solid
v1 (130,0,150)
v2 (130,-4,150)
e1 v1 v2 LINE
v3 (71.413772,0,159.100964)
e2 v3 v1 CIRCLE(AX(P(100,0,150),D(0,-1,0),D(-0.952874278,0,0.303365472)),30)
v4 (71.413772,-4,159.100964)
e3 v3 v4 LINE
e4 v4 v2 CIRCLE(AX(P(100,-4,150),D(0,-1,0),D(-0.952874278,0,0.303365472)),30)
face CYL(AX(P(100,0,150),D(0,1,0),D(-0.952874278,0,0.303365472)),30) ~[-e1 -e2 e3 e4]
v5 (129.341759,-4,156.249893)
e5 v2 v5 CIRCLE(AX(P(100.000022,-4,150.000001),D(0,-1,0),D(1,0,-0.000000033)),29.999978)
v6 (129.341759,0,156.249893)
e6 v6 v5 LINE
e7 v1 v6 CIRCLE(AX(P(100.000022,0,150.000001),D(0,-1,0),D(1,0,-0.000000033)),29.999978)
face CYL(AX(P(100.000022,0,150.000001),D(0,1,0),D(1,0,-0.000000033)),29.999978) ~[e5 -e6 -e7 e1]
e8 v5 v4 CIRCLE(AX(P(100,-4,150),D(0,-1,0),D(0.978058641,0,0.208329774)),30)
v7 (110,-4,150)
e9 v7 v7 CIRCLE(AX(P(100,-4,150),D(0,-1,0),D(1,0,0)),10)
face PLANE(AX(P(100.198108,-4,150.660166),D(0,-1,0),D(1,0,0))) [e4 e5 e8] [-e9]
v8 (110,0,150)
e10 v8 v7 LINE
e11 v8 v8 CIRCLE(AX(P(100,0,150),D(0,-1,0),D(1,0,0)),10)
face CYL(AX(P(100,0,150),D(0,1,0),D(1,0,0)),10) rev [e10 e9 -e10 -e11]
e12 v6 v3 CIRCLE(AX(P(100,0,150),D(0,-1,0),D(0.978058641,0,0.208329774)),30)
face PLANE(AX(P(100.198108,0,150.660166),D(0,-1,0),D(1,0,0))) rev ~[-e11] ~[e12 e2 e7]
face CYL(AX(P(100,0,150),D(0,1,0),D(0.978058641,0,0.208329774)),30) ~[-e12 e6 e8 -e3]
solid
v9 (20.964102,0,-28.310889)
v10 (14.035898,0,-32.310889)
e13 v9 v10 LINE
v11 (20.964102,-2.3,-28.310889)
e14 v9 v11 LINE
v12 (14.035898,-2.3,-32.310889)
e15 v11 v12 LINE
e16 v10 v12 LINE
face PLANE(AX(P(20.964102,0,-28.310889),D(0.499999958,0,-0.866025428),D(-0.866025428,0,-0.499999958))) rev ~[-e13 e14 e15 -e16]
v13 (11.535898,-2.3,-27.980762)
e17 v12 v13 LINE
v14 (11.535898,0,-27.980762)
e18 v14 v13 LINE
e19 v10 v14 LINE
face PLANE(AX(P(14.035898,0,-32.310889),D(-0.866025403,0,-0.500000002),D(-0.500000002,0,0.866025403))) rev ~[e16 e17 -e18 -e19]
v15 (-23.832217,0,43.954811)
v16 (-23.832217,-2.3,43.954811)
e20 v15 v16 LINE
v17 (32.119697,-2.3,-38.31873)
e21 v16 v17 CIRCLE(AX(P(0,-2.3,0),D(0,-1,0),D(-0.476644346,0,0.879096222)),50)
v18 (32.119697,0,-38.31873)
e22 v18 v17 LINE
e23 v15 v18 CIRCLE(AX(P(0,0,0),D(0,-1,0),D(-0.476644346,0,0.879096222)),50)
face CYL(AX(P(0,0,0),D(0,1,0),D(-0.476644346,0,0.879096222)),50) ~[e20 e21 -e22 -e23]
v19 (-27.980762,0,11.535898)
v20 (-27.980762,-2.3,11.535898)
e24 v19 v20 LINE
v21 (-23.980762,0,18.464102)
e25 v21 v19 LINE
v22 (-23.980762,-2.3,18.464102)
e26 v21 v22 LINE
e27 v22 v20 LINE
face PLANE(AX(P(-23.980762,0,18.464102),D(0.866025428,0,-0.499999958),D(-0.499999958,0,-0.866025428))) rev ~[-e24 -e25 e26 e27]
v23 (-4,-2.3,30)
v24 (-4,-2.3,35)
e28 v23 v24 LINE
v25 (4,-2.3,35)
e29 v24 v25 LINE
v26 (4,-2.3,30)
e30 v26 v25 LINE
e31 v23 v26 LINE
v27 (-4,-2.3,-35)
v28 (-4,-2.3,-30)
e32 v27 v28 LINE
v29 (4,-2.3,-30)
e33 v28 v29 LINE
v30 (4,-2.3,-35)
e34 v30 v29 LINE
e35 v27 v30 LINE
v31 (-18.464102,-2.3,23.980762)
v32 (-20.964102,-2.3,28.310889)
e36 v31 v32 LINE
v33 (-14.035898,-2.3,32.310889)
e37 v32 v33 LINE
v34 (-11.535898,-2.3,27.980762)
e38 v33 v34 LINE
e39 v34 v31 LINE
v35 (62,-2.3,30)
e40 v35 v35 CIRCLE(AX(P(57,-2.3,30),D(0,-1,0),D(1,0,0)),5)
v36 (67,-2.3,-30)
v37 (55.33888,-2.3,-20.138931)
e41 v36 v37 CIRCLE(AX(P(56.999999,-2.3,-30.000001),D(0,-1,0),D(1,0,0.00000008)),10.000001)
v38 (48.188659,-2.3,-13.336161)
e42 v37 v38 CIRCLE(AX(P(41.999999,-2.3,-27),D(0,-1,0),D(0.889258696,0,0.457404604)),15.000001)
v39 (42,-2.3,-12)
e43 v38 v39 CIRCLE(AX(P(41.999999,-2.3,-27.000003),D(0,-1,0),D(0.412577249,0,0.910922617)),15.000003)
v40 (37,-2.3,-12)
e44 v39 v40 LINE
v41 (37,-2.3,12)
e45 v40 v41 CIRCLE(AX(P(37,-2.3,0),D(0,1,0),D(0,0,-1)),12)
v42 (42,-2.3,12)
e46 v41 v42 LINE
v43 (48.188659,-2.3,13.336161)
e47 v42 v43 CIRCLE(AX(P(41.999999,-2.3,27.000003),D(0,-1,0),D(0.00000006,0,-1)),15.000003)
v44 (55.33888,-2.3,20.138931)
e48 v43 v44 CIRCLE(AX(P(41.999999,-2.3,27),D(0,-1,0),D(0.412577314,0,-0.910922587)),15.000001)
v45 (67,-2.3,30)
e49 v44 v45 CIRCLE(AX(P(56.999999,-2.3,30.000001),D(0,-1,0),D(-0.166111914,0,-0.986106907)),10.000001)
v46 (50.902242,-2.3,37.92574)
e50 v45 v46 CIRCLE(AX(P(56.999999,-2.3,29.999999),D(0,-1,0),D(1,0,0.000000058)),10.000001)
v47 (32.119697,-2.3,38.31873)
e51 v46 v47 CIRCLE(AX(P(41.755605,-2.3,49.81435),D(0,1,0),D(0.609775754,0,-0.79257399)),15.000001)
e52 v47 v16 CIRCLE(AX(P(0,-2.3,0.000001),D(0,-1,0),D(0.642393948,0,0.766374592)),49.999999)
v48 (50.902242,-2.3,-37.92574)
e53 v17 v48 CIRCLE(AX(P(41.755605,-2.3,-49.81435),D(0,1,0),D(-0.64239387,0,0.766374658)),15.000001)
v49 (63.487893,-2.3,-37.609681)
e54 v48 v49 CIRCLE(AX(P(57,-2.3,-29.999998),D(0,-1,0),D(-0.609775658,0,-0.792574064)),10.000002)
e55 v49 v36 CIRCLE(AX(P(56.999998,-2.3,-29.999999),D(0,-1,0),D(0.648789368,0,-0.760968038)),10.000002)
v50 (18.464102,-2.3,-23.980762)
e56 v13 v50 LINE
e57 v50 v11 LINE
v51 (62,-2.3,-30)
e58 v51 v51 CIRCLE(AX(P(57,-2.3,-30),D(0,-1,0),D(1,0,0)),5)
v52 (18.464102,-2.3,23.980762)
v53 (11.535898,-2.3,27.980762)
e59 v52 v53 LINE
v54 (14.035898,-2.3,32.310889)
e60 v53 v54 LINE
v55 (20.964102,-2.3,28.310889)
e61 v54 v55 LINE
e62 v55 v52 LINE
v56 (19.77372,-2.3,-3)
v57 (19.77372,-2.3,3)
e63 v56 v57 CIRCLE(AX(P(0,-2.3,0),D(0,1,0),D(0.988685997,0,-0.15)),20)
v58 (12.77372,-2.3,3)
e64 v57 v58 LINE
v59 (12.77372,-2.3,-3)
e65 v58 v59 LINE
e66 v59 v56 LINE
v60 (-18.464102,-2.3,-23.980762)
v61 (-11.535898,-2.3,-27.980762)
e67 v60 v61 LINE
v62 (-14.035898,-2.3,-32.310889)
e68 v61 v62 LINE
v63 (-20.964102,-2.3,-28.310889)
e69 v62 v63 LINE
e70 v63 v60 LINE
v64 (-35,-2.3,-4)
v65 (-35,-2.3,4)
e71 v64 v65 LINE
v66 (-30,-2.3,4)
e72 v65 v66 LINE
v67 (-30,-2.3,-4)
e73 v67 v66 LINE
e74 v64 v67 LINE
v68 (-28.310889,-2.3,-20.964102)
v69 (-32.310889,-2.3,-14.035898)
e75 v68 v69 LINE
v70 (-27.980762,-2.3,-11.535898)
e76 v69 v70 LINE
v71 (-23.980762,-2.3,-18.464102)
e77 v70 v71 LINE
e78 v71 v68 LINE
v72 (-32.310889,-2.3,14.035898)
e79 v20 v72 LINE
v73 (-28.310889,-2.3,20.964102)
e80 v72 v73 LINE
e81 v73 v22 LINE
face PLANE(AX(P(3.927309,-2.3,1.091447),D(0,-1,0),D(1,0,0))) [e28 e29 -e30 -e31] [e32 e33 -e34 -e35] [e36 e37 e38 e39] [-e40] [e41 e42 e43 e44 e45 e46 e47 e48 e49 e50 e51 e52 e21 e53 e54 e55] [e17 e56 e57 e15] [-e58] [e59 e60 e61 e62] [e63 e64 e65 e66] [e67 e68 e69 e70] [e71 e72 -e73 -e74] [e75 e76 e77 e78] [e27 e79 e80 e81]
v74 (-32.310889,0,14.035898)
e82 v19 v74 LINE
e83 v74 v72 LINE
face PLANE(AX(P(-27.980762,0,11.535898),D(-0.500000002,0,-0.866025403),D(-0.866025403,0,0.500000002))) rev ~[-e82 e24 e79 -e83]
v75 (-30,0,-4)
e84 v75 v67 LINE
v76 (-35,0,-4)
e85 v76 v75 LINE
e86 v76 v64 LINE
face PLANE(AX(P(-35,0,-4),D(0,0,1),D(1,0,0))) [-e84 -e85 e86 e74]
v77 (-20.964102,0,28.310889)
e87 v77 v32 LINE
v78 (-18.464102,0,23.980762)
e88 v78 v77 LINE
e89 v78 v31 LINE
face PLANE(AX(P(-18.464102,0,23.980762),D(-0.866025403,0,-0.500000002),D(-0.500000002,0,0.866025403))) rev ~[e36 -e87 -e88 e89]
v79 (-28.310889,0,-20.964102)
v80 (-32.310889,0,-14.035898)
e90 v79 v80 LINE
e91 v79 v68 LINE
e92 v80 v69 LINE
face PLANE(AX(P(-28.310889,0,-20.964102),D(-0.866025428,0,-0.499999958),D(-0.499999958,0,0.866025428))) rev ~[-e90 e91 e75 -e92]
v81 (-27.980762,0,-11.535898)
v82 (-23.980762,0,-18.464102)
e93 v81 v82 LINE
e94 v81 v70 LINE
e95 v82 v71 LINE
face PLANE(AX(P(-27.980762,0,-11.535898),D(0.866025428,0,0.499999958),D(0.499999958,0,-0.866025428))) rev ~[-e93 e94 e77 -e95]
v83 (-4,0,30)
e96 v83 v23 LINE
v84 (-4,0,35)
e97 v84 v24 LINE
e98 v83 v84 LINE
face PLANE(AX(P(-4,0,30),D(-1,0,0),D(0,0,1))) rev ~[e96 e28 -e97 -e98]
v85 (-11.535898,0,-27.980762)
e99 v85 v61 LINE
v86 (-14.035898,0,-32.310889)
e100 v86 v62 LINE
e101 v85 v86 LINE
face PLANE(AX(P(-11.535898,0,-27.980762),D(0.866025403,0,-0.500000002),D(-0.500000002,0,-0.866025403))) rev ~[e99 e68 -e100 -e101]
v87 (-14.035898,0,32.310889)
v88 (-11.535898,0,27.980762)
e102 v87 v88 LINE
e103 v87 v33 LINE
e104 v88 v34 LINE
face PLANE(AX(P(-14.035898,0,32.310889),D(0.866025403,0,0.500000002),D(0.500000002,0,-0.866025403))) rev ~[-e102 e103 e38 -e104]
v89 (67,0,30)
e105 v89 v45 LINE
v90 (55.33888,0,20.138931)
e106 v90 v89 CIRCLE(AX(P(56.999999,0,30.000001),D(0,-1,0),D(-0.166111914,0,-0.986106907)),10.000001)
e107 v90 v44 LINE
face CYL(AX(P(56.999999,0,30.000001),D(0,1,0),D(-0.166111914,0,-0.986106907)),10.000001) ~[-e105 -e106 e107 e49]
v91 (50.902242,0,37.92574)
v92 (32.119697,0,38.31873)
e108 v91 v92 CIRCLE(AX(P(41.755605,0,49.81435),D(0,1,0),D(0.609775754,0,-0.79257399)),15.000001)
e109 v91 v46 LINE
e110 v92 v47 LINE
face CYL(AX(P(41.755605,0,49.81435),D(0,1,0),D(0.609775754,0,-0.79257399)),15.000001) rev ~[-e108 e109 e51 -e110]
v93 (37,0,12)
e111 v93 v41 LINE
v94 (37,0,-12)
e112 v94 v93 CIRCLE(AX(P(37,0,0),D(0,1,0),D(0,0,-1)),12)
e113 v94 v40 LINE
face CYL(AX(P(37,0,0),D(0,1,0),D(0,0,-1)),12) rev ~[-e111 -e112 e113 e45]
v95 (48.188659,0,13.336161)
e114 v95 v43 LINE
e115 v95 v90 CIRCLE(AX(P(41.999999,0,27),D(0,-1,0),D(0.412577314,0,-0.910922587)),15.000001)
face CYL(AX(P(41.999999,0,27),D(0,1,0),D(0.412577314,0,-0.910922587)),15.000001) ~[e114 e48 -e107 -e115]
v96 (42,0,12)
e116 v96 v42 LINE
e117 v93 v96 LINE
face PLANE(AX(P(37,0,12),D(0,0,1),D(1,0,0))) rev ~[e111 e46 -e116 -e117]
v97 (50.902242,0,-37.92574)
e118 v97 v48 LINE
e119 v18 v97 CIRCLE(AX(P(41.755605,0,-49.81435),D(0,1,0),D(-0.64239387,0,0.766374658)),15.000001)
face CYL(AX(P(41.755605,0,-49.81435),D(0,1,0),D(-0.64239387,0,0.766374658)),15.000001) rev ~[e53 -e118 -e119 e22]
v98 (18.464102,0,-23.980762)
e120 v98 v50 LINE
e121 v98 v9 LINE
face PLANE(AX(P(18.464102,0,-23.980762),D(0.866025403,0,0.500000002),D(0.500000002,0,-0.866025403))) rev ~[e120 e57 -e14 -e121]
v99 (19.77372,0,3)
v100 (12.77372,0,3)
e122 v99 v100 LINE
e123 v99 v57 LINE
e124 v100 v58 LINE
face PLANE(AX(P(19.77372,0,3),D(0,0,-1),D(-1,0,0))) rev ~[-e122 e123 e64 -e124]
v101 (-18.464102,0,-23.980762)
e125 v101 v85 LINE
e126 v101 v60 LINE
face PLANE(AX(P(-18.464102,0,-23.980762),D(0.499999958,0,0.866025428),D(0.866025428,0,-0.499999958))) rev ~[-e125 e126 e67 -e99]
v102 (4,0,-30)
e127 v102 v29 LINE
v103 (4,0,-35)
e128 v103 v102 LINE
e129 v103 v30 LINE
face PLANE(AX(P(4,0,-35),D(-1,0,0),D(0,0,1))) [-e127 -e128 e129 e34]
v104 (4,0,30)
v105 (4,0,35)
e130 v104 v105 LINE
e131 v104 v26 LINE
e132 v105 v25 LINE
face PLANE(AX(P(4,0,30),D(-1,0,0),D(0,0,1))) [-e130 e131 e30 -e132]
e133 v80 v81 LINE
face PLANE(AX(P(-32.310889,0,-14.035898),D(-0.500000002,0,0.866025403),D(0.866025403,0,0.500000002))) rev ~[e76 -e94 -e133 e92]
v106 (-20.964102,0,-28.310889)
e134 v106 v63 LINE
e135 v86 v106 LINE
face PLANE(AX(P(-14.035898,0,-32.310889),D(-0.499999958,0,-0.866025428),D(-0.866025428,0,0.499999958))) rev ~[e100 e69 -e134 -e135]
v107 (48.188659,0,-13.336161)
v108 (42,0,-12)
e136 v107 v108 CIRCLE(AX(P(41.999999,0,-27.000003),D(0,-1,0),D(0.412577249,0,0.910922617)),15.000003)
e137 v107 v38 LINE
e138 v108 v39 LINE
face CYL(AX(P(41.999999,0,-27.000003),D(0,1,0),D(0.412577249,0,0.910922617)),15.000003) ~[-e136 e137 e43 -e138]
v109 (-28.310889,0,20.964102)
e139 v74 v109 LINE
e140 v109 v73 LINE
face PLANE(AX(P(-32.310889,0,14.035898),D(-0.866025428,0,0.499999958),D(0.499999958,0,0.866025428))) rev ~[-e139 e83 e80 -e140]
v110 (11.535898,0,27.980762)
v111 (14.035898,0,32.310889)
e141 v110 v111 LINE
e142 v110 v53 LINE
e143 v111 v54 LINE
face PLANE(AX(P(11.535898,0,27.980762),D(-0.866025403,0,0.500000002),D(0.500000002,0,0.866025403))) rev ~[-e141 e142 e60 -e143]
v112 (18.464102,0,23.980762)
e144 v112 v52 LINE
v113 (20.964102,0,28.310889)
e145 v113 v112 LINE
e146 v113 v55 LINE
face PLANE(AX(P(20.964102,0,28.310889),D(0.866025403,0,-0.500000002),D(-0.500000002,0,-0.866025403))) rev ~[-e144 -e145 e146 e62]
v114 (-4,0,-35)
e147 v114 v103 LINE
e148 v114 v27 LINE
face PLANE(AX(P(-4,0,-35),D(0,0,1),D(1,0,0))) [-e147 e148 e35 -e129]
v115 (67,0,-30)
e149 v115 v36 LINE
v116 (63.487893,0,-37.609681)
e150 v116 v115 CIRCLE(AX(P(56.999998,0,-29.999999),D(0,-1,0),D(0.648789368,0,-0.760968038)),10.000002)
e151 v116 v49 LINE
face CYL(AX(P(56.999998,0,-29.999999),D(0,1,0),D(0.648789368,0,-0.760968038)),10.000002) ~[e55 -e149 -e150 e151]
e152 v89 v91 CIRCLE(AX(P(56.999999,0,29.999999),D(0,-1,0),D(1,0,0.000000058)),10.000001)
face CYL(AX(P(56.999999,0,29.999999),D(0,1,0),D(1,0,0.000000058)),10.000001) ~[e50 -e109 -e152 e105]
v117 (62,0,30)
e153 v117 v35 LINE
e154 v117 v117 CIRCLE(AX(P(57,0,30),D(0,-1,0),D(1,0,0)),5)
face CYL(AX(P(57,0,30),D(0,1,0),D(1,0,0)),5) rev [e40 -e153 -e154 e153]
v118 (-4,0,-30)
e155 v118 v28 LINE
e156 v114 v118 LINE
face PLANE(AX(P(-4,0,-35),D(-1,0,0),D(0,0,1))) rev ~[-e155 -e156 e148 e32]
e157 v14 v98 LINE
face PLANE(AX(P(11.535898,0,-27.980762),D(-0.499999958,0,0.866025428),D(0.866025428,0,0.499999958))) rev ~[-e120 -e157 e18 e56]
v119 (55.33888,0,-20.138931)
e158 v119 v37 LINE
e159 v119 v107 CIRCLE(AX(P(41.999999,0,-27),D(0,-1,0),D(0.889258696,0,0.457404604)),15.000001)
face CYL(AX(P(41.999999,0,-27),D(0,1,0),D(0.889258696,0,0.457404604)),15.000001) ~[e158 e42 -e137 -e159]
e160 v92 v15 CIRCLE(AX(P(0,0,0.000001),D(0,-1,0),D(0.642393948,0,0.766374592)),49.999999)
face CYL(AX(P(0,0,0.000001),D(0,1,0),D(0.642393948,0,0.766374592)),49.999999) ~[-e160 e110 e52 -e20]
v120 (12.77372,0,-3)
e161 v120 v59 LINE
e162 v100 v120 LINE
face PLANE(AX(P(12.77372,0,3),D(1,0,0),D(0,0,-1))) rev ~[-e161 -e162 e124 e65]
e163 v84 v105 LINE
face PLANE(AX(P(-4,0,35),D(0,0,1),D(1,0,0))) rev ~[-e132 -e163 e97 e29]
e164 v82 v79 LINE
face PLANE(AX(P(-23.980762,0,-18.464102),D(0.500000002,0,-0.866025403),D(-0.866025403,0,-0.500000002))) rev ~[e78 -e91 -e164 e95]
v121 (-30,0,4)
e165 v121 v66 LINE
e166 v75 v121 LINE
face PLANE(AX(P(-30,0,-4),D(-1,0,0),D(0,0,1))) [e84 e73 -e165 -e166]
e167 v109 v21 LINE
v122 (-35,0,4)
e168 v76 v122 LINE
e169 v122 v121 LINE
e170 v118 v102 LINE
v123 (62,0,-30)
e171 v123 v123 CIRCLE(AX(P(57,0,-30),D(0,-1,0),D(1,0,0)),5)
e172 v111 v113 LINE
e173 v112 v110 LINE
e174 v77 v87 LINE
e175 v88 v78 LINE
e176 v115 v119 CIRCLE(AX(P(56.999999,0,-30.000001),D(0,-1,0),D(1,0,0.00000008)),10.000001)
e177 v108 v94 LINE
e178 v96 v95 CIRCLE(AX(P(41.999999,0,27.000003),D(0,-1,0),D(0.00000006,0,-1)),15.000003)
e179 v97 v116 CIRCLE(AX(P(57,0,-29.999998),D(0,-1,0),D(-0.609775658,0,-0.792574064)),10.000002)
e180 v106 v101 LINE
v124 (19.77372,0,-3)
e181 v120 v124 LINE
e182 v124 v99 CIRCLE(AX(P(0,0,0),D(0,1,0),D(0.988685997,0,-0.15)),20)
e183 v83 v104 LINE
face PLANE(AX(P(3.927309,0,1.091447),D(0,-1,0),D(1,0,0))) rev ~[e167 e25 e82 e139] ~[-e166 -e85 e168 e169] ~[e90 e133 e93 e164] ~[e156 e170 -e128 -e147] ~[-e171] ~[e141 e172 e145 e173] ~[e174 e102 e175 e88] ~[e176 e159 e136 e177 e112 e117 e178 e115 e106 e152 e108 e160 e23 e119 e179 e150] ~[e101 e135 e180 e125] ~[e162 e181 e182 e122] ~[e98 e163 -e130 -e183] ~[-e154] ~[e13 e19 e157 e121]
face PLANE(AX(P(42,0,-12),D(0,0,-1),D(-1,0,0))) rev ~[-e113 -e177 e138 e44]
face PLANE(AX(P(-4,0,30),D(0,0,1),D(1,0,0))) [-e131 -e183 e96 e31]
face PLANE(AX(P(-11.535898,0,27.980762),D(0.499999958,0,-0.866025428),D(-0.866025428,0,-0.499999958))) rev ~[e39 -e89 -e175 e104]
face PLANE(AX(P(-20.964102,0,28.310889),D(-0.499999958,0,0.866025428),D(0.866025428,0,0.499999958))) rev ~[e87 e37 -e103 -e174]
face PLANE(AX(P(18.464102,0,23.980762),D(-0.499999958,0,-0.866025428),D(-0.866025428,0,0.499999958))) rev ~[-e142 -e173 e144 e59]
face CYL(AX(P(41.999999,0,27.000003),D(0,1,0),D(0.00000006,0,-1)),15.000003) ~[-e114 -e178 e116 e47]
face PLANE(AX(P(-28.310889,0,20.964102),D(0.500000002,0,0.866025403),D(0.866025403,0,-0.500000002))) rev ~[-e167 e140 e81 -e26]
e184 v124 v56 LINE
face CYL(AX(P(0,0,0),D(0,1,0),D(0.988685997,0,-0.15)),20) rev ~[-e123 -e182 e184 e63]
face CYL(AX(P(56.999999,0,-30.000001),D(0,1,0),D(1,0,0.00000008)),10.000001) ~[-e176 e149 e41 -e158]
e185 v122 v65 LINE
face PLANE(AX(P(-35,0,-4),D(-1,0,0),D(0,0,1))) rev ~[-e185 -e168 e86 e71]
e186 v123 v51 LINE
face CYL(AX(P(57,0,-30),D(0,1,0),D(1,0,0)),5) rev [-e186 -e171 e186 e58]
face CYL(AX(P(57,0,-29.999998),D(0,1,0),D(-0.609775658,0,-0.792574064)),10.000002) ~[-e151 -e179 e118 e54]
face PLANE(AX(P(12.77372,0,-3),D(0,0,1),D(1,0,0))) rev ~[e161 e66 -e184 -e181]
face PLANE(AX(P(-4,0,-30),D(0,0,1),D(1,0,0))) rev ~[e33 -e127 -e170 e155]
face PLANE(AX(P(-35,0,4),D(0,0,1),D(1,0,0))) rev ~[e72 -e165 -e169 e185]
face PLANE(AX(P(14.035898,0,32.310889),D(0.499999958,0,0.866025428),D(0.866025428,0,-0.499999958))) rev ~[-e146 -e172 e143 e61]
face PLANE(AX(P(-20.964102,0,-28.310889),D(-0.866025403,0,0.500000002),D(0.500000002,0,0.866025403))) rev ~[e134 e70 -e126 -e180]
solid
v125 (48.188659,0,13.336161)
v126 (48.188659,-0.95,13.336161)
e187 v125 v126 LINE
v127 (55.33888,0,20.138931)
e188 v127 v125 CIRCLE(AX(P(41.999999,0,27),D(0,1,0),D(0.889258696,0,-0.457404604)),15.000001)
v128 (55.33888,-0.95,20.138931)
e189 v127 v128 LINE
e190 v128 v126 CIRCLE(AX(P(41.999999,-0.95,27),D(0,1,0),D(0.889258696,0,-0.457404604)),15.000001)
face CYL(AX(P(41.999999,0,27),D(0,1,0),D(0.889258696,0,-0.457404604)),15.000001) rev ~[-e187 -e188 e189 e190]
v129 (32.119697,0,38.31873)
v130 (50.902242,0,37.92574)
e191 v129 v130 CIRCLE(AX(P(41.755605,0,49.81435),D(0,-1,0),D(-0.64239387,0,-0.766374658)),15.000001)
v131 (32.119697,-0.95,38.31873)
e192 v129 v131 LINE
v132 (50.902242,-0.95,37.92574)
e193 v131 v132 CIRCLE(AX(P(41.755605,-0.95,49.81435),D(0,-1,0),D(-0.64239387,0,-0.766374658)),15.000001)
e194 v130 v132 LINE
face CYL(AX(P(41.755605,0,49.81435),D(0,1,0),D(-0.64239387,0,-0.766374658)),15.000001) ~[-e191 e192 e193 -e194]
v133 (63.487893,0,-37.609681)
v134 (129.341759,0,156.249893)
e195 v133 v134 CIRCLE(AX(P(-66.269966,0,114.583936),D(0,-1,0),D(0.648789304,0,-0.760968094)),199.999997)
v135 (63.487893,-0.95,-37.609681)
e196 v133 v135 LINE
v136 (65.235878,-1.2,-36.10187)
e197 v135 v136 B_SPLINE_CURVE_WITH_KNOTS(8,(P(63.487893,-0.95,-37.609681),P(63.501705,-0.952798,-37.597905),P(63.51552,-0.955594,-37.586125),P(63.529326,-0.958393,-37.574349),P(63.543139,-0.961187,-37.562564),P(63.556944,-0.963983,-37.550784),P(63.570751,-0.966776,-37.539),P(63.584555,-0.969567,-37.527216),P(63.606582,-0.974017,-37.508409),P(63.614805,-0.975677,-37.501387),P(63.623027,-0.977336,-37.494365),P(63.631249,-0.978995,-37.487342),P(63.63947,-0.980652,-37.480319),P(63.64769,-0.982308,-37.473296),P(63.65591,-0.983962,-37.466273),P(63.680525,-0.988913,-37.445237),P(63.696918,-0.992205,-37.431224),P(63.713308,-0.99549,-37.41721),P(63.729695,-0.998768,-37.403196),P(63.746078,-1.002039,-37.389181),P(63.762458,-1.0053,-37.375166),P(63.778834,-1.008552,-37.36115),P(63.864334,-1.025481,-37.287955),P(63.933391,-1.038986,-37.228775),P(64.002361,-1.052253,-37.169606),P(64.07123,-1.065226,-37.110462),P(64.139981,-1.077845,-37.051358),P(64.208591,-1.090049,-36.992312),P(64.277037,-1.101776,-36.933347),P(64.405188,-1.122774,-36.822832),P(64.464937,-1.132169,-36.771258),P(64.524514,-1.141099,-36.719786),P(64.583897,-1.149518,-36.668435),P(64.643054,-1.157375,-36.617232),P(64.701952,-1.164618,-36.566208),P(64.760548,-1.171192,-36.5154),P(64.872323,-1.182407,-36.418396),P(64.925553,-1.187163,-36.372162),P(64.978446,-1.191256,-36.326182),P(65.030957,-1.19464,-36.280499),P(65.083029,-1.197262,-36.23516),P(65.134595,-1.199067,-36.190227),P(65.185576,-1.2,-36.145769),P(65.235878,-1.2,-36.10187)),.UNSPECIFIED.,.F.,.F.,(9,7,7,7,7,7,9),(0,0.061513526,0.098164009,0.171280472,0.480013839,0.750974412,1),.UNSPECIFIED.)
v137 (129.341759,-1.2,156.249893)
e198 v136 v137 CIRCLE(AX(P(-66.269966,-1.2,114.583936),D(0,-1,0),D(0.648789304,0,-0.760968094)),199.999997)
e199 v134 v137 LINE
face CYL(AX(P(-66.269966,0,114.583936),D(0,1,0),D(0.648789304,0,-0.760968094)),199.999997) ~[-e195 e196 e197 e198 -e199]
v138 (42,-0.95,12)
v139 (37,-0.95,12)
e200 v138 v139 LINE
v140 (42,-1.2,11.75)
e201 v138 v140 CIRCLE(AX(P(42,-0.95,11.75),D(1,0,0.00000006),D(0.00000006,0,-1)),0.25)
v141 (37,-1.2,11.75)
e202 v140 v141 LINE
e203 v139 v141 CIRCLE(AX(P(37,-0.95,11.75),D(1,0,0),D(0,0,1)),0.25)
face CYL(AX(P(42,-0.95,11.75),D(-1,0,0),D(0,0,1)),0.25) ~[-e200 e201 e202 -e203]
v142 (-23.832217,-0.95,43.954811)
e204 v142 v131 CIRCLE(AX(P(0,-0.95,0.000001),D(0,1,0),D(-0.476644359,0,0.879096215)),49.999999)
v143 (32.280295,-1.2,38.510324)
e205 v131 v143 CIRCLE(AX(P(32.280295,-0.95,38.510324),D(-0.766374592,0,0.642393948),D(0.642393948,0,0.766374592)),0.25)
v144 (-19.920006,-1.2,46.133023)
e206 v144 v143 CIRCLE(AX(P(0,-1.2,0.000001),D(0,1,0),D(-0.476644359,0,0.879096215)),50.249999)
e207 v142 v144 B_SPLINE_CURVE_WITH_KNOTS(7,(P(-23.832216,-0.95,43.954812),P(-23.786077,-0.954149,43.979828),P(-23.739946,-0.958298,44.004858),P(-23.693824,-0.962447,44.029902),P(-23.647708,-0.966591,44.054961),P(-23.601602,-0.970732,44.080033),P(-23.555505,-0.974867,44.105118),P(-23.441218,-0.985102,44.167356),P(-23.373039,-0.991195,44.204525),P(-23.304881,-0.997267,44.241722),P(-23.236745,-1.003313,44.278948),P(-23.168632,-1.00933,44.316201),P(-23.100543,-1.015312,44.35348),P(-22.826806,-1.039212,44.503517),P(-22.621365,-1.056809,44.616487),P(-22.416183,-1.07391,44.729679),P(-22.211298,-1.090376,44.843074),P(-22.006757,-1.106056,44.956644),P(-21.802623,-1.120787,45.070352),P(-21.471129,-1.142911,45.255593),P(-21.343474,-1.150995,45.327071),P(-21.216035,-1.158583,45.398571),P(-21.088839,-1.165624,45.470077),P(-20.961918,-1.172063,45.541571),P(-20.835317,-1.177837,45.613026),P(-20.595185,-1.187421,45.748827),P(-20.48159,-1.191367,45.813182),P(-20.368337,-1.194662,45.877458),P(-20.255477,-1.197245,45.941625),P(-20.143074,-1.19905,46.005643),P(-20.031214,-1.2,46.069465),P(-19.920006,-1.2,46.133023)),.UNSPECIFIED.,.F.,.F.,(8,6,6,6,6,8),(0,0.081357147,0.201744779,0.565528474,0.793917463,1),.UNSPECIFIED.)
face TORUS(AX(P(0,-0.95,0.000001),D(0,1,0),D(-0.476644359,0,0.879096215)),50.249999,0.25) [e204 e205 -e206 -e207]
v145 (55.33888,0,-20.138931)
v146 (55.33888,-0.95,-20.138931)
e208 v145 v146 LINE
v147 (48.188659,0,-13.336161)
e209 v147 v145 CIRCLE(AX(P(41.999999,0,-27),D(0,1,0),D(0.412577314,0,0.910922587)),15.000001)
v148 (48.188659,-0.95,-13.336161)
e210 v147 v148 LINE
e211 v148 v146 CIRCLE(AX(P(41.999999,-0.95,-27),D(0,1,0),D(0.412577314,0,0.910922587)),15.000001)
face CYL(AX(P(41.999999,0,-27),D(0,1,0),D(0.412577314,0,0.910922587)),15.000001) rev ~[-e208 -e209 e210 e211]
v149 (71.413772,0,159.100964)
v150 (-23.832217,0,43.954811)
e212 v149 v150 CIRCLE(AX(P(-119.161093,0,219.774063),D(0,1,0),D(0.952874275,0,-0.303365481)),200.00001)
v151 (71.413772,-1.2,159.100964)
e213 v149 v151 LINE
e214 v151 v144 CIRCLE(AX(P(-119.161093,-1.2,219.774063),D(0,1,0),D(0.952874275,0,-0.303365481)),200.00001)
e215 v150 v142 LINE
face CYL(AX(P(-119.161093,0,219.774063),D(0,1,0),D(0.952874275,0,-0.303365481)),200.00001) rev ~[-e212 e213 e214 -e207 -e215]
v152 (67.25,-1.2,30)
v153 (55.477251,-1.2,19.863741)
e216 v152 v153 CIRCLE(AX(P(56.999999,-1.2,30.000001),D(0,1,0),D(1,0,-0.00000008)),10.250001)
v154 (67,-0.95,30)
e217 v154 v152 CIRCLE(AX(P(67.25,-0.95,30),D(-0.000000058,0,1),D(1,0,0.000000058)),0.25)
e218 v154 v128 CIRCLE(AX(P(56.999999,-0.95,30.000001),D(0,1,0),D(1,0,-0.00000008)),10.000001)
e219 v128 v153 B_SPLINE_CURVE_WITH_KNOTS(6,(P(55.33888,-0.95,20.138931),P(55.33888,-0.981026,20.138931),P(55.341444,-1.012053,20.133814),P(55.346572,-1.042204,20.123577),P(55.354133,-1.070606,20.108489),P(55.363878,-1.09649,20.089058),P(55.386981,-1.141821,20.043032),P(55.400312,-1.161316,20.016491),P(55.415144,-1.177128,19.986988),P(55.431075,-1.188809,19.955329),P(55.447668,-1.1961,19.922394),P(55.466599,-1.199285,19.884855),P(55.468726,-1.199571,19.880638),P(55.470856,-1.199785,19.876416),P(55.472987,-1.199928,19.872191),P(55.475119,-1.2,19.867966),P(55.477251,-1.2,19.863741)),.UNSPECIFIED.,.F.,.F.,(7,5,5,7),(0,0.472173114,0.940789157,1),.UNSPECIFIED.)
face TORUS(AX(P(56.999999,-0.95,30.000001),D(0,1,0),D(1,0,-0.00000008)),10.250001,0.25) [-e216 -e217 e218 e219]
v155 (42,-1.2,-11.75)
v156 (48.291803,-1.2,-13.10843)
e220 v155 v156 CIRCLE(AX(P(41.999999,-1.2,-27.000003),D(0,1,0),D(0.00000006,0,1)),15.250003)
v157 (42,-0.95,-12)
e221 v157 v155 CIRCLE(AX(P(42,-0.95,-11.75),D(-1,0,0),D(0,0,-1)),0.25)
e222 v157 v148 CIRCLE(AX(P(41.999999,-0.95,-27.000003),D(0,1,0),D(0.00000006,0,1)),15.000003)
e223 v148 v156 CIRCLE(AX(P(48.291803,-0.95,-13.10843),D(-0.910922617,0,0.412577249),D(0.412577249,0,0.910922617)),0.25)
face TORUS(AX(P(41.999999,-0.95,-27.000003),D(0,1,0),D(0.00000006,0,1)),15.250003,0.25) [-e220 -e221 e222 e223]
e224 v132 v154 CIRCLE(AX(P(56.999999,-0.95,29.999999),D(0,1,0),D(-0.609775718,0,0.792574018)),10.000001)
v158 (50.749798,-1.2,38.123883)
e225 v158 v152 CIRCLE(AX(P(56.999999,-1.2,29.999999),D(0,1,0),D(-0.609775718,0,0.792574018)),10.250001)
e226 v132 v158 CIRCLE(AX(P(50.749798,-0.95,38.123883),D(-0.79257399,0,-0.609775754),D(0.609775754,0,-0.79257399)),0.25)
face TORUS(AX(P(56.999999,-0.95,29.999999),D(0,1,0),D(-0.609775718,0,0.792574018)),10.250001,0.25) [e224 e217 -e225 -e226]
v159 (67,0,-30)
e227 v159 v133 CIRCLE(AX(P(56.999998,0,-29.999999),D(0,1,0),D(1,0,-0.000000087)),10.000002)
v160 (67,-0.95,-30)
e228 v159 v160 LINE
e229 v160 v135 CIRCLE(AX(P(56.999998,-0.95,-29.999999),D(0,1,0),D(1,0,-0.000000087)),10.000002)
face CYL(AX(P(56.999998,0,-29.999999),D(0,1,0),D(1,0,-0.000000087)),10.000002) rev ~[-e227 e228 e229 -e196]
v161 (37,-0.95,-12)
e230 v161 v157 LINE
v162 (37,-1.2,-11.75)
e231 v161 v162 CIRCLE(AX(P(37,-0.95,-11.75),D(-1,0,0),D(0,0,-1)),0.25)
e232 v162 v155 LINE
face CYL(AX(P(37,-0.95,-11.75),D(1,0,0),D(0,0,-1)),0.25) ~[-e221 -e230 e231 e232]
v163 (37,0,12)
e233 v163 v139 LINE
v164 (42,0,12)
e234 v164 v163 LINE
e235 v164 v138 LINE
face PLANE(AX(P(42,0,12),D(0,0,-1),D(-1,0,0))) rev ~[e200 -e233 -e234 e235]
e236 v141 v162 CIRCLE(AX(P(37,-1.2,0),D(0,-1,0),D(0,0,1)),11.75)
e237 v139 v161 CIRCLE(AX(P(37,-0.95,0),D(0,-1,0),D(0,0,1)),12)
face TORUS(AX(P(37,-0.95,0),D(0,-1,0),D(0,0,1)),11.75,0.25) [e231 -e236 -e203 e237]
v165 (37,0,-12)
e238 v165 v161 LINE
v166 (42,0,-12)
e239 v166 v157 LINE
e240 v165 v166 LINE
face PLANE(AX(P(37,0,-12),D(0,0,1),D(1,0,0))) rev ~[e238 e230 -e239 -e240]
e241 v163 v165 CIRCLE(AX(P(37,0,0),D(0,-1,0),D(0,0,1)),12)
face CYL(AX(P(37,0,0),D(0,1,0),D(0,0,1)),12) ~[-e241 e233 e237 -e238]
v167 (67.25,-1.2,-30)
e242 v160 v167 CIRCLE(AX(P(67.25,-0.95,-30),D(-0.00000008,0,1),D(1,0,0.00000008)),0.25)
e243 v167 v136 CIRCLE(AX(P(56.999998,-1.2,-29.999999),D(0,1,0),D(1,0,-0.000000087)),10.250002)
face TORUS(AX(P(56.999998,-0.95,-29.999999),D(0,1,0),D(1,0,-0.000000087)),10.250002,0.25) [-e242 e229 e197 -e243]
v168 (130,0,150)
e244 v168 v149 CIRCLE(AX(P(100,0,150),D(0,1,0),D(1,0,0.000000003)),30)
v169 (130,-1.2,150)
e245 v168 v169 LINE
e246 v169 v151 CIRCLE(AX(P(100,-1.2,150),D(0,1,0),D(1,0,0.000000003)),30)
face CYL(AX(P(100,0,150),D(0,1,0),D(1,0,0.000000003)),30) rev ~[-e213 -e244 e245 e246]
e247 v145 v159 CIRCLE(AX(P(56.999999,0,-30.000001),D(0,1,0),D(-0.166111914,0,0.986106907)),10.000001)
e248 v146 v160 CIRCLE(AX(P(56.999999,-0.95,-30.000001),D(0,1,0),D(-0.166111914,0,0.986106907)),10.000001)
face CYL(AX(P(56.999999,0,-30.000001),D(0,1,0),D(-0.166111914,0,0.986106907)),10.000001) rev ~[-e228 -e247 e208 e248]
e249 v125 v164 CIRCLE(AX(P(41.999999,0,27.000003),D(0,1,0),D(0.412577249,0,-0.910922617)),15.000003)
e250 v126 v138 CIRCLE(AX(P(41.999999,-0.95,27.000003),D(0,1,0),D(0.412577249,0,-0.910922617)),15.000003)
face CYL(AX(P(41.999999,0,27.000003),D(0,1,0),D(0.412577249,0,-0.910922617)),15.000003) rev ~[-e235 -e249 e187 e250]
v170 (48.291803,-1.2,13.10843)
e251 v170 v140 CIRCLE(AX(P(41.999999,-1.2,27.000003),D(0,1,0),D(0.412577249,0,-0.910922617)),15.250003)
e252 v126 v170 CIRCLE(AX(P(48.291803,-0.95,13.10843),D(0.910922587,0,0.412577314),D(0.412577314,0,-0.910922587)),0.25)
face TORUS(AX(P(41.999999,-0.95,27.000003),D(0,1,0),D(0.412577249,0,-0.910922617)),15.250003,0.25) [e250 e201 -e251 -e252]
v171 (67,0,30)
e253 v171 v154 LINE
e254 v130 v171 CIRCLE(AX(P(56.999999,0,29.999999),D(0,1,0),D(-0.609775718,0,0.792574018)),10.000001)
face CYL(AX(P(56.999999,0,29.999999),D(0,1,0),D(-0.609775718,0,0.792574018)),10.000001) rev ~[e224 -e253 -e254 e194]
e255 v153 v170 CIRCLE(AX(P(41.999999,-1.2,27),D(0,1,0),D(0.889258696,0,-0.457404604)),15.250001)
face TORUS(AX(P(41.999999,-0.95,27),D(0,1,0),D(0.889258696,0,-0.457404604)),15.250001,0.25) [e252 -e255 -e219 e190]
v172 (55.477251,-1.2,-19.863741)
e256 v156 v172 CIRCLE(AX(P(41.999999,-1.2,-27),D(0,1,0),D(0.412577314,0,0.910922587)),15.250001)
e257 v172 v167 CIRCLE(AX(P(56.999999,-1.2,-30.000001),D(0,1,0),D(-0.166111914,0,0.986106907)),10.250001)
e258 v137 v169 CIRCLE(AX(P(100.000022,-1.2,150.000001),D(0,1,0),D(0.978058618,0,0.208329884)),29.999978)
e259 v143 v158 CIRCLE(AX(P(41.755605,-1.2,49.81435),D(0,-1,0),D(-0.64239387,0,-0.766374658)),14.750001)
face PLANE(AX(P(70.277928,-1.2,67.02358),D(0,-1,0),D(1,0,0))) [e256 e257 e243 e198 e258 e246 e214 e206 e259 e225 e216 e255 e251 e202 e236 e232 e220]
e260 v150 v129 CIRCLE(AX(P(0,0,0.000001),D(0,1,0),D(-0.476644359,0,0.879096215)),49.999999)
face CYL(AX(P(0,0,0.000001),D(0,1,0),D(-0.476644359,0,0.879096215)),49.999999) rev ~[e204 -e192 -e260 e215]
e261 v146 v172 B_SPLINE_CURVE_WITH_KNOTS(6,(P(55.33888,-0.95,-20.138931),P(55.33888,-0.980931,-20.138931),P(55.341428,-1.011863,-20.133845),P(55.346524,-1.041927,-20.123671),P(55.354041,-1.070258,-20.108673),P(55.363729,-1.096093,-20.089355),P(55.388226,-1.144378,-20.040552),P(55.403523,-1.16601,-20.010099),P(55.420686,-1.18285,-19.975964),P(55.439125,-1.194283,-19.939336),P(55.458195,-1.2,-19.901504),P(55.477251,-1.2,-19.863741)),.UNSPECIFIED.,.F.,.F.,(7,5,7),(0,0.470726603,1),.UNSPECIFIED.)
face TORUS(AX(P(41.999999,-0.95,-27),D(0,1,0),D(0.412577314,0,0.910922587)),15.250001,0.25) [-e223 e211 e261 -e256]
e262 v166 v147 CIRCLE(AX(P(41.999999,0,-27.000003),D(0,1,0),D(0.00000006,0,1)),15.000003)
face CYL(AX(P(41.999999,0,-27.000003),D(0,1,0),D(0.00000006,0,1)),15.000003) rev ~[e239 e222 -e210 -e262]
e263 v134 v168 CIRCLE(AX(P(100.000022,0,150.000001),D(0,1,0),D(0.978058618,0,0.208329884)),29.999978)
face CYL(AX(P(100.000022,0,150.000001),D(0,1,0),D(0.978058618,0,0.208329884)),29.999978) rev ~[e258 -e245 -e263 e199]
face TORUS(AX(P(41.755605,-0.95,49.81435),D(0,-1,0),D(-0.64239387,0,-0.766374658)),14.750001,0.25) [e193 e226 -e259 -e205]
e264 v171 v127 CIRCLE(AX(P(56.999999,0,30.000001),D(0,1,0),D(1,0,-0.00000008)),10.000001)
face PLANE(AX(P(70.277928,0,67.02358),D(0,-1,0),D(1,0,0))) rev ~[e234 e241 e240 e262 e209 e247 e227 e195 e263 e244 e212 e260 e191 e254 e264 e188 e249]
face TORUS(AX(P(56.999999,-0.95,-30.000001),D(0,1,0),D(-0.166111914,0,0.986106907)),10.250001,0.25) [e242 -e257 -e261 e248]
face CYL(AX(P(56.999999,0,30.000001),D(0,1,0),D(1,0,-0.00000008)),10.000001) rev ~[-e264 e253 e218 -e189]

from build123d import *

# Parameters (mm, degrees)
F0_W     = 5
F0_H     = 8
F0_W_2   = 8
F0_H_2   = 5
F0_R     = 5
F1_DEPTH = 2.3
F0_R_2   = 10
F2_DEPTH = 4
F3_DEPTH = 1.2
F4_R     = 0.25


with BuildPart() as f1:
    # F0 (on Front) → F1 (new body)
    with BuildSketch(Plane.XZ):
        with BuildLine():
            ThreePointArc((48.188659, 13.336161), (42.052232, 27.048287), (32.119697, 38.31873))
            ThreePointArc((32.119697, 38.31873), (5.011181, 49.748247), (-23.832217, 43.954811))
            ThreePointArc((-23.832217, 43.954811), (-41.344945, -28.11753), (32.119697, -38.31873))
            ThreePointArc((32.119697, -38.31873), (42.052232, -27.048287), (48.188659, -13.336161))
            ThreePointArc((48.188659, -13.336161), (45.165629, -12.337845), (42, -12))
            Line((42, -12), (37, -12))
            ThreePointArc((37, -12), (25, 0), (37, 12))
            Line((37, 12), (42, 12))
            ThreePointArc((42, 12), (45.165629, 12.337845), (48.188659, 13.336161))
        make_face()
        Polygon((-14.035898, -32.310889), (-20.964102, -28.310889), (-18.464102, -23.980762), (-11.535898, -27.980762), align=None, mode=Mode.SUBTRACT)
        Polygon((-28.310889, -20.964102), (-32.310889, -14.035898), (-27.980762, -11.535898), (-23.980762, -18.464102), align=None, mode=Mode.SUBTRACT)
        with Locations((-32.5, 0)):
            Rectangle(F0_W, F0_H, mode=Mode.SUBTRACT)
        with Locations((0, -32.5)):
            Rectangle(F0_W_2, F0_H_2, mode=Mode.SUBTRACT)
        Polygon((20.964102, -28.310889), (14.035898, -32.310889), (11.535898, -27.980762), (18.464102, -23.980762), align=None, mode=Mode.SUBTRACT)
        with BuildLine():
            ThreePointArc((19.77372, 3), (19.94335, 1.504261), (20, 0))
            ThreePointArc((20, 0), (19.94335, -1.504261), (19.77372, -3))
            ThreePointArc((19.77372, -3), (-20, 0), (19.77372, 3))
        make_face(mode=Mode.SUBTRACT)
        Polygon((-32.310889, 14.035898), (-28.310889, 20.964102), (-23.980762, 18.464102), (-27.980762, 11.535898), align=None, mode=Mode.SUBTRACT)
        Polygon((-20.964102, 28.310889), (-14.035898, 32.310889), (-11.535898, 27.980762), (-18.464102, 23.980762), align=None, mode=Mode.SUBTRACT)
        with Locations((0, 32.5)):
            Rectangle(F0_W_2, F0_H_2, mode=Mode.SUBTRACT)
        Polygon((14.035898, 32.310889), (20.964102, 28.310889), (18.464102, 23.980762), (11.535898, 27.980762), align=None, mode=Mode.SUBTRACT)
        with BuildLine():
            ThreePointArc((50.902242, 37.92574), (41.441827, 34.817632), (32.119697, 38.31873))
            ThreePointArc((32.119697, 38.31873), (42.052232, 27.048287), (48.188659, 13.336161))
            ThreePointArc((48.188659, 13.336161), (52.339275, 16.132646), (55.33888, 20.138931))
            ThreePointArc((55.33888, 20.138931), (47.297285, 27.579811), (50.902242, 37.92574))
        make_face()
        with BuildLine():
            ThreePointArc((67, 30), (61.41715, 38.971554), (50.902242, 37.92574))
            ThreePointArc((50.902242, 37.92574), (47.297285, 27.579811), (55.33888, 20.138931))
            ThreePointArc((55.33888, 20.138931), (63.45712, 22.36419), (67, 30))
        make_face()
        with Locations((57, 30)):
            Circle(F0_R, mode=Mode.SUBTRACT)
        with BuildLine():
            ThreePointArc((48.188659, -13.336161), (42.052232, -27.048287), (32.119697, -38.31873))
            ThreePointArc((32.119697, -38.31873), (41.441827, -34.817632), (50.902242, -37.92574))
            ThreePointArc((50.902242, -37.92574), (47.297285, -27.579811), (55.33888, -20.138931))
            ThreePointArc((55.33888, -20.138931), (52.339275, -16.132646), (48.188659, -13.336161))
        make_face()
        with BuildLine():
            ThreePointArc((55.33888, -20.138931), (47.297285, -27.579811), (50.902242, -37.92574))
            ThreePointArc((50.902242, -37.92574), (57.251047, -39.996848), (63.487893, -37.609681))
            ThreePointArc((63.487893, -37.609681), (66.079618, -34.190529), (67, -30))
            ThreePointArc((67, -30), (63.45712, -22.36419), (55.33888, -20.138931))
        make_face()
        with Locations((57, -30)):
            Circle(F0_R, mode=Mode.SUBTRACT)
        with BuildLine():
            ThreePointArc((19.77372, -3), (19.94335, -1.504261), (20, 0))
            ThreePointArc((20, 0), (19.94335, 1.504261), (19.77372, 3))
            Line((19.77372, 3), (12.77372, 3))
            Line((12.77372, 3), (12.77372, 0))
            Line((12.77372, 0), (12.77372, -3))
            Line((12.77372, -3), (19.77372, -3))
        make_face()
    extrude(amount=F1_DEPTH)


with BuildPart() as f2:
    # F0 (on Front) → F2 (new body)
    with BuildSketch(Plane.XZ):
        with BuildLine():
            ThreePointArc((129.341759, 156.249893), (101.47474, 179.96373), (71.413772, 159.100964))
            ThreePointArc((71.413772, 159.100964), (95.39494, 120.35555), (130, 150))
            ThreePointArc((130, 150), (129.834986, 153.14223), (129.341759, 156.249893))
        make_face()
        with Locations((100, 150)):
            Circle(F0_R_2, mode=Mode.SUBTRACT)
    extrude(amount=F2_DEPTH)


with BuildPart() as f3:
    # F0 (on Front) → F3 (new body)
    with BuildSketch(Plane.XZ):
        with BuildLine():
            ThreePointArc((-23.832217, 43.954811), (5.011181, 49.748247), (32.119697, 38.31873))
            ThreePointArc((32.119697, 38.31873), (41.441827, 34.817632), (50.902242, 37.92574))
            ThreePointArc((50.902242, 37.92574), (61.41715, 38.971554), (67, 30))
            ThreePointArc((67, 30), (63.45712, 22.36419), (55.33888, 20.138931))
            ThreePointArc((55.33888, 20.138931), (52.339275, 16.132646), (48.188659, 13.336161))
            ThreePointArc((48.188659, 13.336161), (49.545095, 6.729304), (50, 0))
            ThreePointArc((50, 0), (49.545095, -6.729304), (48.188659, -13.336161))
            ThreePointArc((48.188659, -13.336161), (52.339275, -16.132646), (55.33888, -20.138931))
            ThreePointArc((55.33888, -20.138931), (63.45712, -22.36419), (67, -30))
            ThreePointArc((67, -30), (66.079618, -34.190529), (63.487893, -37.609681))
            ThreePointArc((63.487893, -37.609681), (123.101957, 50.25452), (129.341759, 156.249893))
            ThreePointArc((129.341759, 156.249893), (129.834986, 153.14223), (130, 150))
            ThreePointArc((130, 150), (95.39494, 120.35555), (71.413772, 159.100964))
            ThreePointArc((71.413772, 159.100964), (34.948921, 92.298153), (-23.832217, 43.954811))
        make_face()
        with BuildLine():
            ThreePointArc((50, 0), (49.545095, 6.729304), (48.188659, 13.336161))
            ThreePointArc((48.188659, 13.336161), (45.165629, 12.337845), (42, 12))
            Line((42, 12), (37, 12))
            ThreePointArc((37, 12), (25, 0), (37, -12))
            Line((37, -12), (42, -12))
            ThreePointArc((42, -12), (45.165629, -12.337845), (48.188659, -13.336161))
            ThreePointArc((48.188659, -13.336161), (49.545095, -6.729304), (50, 0))
        make_face()
    extrude(amount=F3_DEPTH)

    # F4
    f4_edges = [f3.edges().sort_by_distance(p)[0] for p in [
        (49.812937, -1.2, 14.195391),
        (39.5, -1.2, 12),
        (25, -1.2, 0),
        (66.702715, -1.2, 32.420189),
        (49.812937, -1.2, -14.195391),
        (39.5, -1.2, -12),
        (66.062627, -1.2, -25.772851),
        (41.441827, -1.2, 34.817632),
        (5.011181, -1.2, 49.748247),
    ]]
    fillet(f4_edges, radius=F4_R)


solid = Compound([f1.part, f2.part, f3.part])
